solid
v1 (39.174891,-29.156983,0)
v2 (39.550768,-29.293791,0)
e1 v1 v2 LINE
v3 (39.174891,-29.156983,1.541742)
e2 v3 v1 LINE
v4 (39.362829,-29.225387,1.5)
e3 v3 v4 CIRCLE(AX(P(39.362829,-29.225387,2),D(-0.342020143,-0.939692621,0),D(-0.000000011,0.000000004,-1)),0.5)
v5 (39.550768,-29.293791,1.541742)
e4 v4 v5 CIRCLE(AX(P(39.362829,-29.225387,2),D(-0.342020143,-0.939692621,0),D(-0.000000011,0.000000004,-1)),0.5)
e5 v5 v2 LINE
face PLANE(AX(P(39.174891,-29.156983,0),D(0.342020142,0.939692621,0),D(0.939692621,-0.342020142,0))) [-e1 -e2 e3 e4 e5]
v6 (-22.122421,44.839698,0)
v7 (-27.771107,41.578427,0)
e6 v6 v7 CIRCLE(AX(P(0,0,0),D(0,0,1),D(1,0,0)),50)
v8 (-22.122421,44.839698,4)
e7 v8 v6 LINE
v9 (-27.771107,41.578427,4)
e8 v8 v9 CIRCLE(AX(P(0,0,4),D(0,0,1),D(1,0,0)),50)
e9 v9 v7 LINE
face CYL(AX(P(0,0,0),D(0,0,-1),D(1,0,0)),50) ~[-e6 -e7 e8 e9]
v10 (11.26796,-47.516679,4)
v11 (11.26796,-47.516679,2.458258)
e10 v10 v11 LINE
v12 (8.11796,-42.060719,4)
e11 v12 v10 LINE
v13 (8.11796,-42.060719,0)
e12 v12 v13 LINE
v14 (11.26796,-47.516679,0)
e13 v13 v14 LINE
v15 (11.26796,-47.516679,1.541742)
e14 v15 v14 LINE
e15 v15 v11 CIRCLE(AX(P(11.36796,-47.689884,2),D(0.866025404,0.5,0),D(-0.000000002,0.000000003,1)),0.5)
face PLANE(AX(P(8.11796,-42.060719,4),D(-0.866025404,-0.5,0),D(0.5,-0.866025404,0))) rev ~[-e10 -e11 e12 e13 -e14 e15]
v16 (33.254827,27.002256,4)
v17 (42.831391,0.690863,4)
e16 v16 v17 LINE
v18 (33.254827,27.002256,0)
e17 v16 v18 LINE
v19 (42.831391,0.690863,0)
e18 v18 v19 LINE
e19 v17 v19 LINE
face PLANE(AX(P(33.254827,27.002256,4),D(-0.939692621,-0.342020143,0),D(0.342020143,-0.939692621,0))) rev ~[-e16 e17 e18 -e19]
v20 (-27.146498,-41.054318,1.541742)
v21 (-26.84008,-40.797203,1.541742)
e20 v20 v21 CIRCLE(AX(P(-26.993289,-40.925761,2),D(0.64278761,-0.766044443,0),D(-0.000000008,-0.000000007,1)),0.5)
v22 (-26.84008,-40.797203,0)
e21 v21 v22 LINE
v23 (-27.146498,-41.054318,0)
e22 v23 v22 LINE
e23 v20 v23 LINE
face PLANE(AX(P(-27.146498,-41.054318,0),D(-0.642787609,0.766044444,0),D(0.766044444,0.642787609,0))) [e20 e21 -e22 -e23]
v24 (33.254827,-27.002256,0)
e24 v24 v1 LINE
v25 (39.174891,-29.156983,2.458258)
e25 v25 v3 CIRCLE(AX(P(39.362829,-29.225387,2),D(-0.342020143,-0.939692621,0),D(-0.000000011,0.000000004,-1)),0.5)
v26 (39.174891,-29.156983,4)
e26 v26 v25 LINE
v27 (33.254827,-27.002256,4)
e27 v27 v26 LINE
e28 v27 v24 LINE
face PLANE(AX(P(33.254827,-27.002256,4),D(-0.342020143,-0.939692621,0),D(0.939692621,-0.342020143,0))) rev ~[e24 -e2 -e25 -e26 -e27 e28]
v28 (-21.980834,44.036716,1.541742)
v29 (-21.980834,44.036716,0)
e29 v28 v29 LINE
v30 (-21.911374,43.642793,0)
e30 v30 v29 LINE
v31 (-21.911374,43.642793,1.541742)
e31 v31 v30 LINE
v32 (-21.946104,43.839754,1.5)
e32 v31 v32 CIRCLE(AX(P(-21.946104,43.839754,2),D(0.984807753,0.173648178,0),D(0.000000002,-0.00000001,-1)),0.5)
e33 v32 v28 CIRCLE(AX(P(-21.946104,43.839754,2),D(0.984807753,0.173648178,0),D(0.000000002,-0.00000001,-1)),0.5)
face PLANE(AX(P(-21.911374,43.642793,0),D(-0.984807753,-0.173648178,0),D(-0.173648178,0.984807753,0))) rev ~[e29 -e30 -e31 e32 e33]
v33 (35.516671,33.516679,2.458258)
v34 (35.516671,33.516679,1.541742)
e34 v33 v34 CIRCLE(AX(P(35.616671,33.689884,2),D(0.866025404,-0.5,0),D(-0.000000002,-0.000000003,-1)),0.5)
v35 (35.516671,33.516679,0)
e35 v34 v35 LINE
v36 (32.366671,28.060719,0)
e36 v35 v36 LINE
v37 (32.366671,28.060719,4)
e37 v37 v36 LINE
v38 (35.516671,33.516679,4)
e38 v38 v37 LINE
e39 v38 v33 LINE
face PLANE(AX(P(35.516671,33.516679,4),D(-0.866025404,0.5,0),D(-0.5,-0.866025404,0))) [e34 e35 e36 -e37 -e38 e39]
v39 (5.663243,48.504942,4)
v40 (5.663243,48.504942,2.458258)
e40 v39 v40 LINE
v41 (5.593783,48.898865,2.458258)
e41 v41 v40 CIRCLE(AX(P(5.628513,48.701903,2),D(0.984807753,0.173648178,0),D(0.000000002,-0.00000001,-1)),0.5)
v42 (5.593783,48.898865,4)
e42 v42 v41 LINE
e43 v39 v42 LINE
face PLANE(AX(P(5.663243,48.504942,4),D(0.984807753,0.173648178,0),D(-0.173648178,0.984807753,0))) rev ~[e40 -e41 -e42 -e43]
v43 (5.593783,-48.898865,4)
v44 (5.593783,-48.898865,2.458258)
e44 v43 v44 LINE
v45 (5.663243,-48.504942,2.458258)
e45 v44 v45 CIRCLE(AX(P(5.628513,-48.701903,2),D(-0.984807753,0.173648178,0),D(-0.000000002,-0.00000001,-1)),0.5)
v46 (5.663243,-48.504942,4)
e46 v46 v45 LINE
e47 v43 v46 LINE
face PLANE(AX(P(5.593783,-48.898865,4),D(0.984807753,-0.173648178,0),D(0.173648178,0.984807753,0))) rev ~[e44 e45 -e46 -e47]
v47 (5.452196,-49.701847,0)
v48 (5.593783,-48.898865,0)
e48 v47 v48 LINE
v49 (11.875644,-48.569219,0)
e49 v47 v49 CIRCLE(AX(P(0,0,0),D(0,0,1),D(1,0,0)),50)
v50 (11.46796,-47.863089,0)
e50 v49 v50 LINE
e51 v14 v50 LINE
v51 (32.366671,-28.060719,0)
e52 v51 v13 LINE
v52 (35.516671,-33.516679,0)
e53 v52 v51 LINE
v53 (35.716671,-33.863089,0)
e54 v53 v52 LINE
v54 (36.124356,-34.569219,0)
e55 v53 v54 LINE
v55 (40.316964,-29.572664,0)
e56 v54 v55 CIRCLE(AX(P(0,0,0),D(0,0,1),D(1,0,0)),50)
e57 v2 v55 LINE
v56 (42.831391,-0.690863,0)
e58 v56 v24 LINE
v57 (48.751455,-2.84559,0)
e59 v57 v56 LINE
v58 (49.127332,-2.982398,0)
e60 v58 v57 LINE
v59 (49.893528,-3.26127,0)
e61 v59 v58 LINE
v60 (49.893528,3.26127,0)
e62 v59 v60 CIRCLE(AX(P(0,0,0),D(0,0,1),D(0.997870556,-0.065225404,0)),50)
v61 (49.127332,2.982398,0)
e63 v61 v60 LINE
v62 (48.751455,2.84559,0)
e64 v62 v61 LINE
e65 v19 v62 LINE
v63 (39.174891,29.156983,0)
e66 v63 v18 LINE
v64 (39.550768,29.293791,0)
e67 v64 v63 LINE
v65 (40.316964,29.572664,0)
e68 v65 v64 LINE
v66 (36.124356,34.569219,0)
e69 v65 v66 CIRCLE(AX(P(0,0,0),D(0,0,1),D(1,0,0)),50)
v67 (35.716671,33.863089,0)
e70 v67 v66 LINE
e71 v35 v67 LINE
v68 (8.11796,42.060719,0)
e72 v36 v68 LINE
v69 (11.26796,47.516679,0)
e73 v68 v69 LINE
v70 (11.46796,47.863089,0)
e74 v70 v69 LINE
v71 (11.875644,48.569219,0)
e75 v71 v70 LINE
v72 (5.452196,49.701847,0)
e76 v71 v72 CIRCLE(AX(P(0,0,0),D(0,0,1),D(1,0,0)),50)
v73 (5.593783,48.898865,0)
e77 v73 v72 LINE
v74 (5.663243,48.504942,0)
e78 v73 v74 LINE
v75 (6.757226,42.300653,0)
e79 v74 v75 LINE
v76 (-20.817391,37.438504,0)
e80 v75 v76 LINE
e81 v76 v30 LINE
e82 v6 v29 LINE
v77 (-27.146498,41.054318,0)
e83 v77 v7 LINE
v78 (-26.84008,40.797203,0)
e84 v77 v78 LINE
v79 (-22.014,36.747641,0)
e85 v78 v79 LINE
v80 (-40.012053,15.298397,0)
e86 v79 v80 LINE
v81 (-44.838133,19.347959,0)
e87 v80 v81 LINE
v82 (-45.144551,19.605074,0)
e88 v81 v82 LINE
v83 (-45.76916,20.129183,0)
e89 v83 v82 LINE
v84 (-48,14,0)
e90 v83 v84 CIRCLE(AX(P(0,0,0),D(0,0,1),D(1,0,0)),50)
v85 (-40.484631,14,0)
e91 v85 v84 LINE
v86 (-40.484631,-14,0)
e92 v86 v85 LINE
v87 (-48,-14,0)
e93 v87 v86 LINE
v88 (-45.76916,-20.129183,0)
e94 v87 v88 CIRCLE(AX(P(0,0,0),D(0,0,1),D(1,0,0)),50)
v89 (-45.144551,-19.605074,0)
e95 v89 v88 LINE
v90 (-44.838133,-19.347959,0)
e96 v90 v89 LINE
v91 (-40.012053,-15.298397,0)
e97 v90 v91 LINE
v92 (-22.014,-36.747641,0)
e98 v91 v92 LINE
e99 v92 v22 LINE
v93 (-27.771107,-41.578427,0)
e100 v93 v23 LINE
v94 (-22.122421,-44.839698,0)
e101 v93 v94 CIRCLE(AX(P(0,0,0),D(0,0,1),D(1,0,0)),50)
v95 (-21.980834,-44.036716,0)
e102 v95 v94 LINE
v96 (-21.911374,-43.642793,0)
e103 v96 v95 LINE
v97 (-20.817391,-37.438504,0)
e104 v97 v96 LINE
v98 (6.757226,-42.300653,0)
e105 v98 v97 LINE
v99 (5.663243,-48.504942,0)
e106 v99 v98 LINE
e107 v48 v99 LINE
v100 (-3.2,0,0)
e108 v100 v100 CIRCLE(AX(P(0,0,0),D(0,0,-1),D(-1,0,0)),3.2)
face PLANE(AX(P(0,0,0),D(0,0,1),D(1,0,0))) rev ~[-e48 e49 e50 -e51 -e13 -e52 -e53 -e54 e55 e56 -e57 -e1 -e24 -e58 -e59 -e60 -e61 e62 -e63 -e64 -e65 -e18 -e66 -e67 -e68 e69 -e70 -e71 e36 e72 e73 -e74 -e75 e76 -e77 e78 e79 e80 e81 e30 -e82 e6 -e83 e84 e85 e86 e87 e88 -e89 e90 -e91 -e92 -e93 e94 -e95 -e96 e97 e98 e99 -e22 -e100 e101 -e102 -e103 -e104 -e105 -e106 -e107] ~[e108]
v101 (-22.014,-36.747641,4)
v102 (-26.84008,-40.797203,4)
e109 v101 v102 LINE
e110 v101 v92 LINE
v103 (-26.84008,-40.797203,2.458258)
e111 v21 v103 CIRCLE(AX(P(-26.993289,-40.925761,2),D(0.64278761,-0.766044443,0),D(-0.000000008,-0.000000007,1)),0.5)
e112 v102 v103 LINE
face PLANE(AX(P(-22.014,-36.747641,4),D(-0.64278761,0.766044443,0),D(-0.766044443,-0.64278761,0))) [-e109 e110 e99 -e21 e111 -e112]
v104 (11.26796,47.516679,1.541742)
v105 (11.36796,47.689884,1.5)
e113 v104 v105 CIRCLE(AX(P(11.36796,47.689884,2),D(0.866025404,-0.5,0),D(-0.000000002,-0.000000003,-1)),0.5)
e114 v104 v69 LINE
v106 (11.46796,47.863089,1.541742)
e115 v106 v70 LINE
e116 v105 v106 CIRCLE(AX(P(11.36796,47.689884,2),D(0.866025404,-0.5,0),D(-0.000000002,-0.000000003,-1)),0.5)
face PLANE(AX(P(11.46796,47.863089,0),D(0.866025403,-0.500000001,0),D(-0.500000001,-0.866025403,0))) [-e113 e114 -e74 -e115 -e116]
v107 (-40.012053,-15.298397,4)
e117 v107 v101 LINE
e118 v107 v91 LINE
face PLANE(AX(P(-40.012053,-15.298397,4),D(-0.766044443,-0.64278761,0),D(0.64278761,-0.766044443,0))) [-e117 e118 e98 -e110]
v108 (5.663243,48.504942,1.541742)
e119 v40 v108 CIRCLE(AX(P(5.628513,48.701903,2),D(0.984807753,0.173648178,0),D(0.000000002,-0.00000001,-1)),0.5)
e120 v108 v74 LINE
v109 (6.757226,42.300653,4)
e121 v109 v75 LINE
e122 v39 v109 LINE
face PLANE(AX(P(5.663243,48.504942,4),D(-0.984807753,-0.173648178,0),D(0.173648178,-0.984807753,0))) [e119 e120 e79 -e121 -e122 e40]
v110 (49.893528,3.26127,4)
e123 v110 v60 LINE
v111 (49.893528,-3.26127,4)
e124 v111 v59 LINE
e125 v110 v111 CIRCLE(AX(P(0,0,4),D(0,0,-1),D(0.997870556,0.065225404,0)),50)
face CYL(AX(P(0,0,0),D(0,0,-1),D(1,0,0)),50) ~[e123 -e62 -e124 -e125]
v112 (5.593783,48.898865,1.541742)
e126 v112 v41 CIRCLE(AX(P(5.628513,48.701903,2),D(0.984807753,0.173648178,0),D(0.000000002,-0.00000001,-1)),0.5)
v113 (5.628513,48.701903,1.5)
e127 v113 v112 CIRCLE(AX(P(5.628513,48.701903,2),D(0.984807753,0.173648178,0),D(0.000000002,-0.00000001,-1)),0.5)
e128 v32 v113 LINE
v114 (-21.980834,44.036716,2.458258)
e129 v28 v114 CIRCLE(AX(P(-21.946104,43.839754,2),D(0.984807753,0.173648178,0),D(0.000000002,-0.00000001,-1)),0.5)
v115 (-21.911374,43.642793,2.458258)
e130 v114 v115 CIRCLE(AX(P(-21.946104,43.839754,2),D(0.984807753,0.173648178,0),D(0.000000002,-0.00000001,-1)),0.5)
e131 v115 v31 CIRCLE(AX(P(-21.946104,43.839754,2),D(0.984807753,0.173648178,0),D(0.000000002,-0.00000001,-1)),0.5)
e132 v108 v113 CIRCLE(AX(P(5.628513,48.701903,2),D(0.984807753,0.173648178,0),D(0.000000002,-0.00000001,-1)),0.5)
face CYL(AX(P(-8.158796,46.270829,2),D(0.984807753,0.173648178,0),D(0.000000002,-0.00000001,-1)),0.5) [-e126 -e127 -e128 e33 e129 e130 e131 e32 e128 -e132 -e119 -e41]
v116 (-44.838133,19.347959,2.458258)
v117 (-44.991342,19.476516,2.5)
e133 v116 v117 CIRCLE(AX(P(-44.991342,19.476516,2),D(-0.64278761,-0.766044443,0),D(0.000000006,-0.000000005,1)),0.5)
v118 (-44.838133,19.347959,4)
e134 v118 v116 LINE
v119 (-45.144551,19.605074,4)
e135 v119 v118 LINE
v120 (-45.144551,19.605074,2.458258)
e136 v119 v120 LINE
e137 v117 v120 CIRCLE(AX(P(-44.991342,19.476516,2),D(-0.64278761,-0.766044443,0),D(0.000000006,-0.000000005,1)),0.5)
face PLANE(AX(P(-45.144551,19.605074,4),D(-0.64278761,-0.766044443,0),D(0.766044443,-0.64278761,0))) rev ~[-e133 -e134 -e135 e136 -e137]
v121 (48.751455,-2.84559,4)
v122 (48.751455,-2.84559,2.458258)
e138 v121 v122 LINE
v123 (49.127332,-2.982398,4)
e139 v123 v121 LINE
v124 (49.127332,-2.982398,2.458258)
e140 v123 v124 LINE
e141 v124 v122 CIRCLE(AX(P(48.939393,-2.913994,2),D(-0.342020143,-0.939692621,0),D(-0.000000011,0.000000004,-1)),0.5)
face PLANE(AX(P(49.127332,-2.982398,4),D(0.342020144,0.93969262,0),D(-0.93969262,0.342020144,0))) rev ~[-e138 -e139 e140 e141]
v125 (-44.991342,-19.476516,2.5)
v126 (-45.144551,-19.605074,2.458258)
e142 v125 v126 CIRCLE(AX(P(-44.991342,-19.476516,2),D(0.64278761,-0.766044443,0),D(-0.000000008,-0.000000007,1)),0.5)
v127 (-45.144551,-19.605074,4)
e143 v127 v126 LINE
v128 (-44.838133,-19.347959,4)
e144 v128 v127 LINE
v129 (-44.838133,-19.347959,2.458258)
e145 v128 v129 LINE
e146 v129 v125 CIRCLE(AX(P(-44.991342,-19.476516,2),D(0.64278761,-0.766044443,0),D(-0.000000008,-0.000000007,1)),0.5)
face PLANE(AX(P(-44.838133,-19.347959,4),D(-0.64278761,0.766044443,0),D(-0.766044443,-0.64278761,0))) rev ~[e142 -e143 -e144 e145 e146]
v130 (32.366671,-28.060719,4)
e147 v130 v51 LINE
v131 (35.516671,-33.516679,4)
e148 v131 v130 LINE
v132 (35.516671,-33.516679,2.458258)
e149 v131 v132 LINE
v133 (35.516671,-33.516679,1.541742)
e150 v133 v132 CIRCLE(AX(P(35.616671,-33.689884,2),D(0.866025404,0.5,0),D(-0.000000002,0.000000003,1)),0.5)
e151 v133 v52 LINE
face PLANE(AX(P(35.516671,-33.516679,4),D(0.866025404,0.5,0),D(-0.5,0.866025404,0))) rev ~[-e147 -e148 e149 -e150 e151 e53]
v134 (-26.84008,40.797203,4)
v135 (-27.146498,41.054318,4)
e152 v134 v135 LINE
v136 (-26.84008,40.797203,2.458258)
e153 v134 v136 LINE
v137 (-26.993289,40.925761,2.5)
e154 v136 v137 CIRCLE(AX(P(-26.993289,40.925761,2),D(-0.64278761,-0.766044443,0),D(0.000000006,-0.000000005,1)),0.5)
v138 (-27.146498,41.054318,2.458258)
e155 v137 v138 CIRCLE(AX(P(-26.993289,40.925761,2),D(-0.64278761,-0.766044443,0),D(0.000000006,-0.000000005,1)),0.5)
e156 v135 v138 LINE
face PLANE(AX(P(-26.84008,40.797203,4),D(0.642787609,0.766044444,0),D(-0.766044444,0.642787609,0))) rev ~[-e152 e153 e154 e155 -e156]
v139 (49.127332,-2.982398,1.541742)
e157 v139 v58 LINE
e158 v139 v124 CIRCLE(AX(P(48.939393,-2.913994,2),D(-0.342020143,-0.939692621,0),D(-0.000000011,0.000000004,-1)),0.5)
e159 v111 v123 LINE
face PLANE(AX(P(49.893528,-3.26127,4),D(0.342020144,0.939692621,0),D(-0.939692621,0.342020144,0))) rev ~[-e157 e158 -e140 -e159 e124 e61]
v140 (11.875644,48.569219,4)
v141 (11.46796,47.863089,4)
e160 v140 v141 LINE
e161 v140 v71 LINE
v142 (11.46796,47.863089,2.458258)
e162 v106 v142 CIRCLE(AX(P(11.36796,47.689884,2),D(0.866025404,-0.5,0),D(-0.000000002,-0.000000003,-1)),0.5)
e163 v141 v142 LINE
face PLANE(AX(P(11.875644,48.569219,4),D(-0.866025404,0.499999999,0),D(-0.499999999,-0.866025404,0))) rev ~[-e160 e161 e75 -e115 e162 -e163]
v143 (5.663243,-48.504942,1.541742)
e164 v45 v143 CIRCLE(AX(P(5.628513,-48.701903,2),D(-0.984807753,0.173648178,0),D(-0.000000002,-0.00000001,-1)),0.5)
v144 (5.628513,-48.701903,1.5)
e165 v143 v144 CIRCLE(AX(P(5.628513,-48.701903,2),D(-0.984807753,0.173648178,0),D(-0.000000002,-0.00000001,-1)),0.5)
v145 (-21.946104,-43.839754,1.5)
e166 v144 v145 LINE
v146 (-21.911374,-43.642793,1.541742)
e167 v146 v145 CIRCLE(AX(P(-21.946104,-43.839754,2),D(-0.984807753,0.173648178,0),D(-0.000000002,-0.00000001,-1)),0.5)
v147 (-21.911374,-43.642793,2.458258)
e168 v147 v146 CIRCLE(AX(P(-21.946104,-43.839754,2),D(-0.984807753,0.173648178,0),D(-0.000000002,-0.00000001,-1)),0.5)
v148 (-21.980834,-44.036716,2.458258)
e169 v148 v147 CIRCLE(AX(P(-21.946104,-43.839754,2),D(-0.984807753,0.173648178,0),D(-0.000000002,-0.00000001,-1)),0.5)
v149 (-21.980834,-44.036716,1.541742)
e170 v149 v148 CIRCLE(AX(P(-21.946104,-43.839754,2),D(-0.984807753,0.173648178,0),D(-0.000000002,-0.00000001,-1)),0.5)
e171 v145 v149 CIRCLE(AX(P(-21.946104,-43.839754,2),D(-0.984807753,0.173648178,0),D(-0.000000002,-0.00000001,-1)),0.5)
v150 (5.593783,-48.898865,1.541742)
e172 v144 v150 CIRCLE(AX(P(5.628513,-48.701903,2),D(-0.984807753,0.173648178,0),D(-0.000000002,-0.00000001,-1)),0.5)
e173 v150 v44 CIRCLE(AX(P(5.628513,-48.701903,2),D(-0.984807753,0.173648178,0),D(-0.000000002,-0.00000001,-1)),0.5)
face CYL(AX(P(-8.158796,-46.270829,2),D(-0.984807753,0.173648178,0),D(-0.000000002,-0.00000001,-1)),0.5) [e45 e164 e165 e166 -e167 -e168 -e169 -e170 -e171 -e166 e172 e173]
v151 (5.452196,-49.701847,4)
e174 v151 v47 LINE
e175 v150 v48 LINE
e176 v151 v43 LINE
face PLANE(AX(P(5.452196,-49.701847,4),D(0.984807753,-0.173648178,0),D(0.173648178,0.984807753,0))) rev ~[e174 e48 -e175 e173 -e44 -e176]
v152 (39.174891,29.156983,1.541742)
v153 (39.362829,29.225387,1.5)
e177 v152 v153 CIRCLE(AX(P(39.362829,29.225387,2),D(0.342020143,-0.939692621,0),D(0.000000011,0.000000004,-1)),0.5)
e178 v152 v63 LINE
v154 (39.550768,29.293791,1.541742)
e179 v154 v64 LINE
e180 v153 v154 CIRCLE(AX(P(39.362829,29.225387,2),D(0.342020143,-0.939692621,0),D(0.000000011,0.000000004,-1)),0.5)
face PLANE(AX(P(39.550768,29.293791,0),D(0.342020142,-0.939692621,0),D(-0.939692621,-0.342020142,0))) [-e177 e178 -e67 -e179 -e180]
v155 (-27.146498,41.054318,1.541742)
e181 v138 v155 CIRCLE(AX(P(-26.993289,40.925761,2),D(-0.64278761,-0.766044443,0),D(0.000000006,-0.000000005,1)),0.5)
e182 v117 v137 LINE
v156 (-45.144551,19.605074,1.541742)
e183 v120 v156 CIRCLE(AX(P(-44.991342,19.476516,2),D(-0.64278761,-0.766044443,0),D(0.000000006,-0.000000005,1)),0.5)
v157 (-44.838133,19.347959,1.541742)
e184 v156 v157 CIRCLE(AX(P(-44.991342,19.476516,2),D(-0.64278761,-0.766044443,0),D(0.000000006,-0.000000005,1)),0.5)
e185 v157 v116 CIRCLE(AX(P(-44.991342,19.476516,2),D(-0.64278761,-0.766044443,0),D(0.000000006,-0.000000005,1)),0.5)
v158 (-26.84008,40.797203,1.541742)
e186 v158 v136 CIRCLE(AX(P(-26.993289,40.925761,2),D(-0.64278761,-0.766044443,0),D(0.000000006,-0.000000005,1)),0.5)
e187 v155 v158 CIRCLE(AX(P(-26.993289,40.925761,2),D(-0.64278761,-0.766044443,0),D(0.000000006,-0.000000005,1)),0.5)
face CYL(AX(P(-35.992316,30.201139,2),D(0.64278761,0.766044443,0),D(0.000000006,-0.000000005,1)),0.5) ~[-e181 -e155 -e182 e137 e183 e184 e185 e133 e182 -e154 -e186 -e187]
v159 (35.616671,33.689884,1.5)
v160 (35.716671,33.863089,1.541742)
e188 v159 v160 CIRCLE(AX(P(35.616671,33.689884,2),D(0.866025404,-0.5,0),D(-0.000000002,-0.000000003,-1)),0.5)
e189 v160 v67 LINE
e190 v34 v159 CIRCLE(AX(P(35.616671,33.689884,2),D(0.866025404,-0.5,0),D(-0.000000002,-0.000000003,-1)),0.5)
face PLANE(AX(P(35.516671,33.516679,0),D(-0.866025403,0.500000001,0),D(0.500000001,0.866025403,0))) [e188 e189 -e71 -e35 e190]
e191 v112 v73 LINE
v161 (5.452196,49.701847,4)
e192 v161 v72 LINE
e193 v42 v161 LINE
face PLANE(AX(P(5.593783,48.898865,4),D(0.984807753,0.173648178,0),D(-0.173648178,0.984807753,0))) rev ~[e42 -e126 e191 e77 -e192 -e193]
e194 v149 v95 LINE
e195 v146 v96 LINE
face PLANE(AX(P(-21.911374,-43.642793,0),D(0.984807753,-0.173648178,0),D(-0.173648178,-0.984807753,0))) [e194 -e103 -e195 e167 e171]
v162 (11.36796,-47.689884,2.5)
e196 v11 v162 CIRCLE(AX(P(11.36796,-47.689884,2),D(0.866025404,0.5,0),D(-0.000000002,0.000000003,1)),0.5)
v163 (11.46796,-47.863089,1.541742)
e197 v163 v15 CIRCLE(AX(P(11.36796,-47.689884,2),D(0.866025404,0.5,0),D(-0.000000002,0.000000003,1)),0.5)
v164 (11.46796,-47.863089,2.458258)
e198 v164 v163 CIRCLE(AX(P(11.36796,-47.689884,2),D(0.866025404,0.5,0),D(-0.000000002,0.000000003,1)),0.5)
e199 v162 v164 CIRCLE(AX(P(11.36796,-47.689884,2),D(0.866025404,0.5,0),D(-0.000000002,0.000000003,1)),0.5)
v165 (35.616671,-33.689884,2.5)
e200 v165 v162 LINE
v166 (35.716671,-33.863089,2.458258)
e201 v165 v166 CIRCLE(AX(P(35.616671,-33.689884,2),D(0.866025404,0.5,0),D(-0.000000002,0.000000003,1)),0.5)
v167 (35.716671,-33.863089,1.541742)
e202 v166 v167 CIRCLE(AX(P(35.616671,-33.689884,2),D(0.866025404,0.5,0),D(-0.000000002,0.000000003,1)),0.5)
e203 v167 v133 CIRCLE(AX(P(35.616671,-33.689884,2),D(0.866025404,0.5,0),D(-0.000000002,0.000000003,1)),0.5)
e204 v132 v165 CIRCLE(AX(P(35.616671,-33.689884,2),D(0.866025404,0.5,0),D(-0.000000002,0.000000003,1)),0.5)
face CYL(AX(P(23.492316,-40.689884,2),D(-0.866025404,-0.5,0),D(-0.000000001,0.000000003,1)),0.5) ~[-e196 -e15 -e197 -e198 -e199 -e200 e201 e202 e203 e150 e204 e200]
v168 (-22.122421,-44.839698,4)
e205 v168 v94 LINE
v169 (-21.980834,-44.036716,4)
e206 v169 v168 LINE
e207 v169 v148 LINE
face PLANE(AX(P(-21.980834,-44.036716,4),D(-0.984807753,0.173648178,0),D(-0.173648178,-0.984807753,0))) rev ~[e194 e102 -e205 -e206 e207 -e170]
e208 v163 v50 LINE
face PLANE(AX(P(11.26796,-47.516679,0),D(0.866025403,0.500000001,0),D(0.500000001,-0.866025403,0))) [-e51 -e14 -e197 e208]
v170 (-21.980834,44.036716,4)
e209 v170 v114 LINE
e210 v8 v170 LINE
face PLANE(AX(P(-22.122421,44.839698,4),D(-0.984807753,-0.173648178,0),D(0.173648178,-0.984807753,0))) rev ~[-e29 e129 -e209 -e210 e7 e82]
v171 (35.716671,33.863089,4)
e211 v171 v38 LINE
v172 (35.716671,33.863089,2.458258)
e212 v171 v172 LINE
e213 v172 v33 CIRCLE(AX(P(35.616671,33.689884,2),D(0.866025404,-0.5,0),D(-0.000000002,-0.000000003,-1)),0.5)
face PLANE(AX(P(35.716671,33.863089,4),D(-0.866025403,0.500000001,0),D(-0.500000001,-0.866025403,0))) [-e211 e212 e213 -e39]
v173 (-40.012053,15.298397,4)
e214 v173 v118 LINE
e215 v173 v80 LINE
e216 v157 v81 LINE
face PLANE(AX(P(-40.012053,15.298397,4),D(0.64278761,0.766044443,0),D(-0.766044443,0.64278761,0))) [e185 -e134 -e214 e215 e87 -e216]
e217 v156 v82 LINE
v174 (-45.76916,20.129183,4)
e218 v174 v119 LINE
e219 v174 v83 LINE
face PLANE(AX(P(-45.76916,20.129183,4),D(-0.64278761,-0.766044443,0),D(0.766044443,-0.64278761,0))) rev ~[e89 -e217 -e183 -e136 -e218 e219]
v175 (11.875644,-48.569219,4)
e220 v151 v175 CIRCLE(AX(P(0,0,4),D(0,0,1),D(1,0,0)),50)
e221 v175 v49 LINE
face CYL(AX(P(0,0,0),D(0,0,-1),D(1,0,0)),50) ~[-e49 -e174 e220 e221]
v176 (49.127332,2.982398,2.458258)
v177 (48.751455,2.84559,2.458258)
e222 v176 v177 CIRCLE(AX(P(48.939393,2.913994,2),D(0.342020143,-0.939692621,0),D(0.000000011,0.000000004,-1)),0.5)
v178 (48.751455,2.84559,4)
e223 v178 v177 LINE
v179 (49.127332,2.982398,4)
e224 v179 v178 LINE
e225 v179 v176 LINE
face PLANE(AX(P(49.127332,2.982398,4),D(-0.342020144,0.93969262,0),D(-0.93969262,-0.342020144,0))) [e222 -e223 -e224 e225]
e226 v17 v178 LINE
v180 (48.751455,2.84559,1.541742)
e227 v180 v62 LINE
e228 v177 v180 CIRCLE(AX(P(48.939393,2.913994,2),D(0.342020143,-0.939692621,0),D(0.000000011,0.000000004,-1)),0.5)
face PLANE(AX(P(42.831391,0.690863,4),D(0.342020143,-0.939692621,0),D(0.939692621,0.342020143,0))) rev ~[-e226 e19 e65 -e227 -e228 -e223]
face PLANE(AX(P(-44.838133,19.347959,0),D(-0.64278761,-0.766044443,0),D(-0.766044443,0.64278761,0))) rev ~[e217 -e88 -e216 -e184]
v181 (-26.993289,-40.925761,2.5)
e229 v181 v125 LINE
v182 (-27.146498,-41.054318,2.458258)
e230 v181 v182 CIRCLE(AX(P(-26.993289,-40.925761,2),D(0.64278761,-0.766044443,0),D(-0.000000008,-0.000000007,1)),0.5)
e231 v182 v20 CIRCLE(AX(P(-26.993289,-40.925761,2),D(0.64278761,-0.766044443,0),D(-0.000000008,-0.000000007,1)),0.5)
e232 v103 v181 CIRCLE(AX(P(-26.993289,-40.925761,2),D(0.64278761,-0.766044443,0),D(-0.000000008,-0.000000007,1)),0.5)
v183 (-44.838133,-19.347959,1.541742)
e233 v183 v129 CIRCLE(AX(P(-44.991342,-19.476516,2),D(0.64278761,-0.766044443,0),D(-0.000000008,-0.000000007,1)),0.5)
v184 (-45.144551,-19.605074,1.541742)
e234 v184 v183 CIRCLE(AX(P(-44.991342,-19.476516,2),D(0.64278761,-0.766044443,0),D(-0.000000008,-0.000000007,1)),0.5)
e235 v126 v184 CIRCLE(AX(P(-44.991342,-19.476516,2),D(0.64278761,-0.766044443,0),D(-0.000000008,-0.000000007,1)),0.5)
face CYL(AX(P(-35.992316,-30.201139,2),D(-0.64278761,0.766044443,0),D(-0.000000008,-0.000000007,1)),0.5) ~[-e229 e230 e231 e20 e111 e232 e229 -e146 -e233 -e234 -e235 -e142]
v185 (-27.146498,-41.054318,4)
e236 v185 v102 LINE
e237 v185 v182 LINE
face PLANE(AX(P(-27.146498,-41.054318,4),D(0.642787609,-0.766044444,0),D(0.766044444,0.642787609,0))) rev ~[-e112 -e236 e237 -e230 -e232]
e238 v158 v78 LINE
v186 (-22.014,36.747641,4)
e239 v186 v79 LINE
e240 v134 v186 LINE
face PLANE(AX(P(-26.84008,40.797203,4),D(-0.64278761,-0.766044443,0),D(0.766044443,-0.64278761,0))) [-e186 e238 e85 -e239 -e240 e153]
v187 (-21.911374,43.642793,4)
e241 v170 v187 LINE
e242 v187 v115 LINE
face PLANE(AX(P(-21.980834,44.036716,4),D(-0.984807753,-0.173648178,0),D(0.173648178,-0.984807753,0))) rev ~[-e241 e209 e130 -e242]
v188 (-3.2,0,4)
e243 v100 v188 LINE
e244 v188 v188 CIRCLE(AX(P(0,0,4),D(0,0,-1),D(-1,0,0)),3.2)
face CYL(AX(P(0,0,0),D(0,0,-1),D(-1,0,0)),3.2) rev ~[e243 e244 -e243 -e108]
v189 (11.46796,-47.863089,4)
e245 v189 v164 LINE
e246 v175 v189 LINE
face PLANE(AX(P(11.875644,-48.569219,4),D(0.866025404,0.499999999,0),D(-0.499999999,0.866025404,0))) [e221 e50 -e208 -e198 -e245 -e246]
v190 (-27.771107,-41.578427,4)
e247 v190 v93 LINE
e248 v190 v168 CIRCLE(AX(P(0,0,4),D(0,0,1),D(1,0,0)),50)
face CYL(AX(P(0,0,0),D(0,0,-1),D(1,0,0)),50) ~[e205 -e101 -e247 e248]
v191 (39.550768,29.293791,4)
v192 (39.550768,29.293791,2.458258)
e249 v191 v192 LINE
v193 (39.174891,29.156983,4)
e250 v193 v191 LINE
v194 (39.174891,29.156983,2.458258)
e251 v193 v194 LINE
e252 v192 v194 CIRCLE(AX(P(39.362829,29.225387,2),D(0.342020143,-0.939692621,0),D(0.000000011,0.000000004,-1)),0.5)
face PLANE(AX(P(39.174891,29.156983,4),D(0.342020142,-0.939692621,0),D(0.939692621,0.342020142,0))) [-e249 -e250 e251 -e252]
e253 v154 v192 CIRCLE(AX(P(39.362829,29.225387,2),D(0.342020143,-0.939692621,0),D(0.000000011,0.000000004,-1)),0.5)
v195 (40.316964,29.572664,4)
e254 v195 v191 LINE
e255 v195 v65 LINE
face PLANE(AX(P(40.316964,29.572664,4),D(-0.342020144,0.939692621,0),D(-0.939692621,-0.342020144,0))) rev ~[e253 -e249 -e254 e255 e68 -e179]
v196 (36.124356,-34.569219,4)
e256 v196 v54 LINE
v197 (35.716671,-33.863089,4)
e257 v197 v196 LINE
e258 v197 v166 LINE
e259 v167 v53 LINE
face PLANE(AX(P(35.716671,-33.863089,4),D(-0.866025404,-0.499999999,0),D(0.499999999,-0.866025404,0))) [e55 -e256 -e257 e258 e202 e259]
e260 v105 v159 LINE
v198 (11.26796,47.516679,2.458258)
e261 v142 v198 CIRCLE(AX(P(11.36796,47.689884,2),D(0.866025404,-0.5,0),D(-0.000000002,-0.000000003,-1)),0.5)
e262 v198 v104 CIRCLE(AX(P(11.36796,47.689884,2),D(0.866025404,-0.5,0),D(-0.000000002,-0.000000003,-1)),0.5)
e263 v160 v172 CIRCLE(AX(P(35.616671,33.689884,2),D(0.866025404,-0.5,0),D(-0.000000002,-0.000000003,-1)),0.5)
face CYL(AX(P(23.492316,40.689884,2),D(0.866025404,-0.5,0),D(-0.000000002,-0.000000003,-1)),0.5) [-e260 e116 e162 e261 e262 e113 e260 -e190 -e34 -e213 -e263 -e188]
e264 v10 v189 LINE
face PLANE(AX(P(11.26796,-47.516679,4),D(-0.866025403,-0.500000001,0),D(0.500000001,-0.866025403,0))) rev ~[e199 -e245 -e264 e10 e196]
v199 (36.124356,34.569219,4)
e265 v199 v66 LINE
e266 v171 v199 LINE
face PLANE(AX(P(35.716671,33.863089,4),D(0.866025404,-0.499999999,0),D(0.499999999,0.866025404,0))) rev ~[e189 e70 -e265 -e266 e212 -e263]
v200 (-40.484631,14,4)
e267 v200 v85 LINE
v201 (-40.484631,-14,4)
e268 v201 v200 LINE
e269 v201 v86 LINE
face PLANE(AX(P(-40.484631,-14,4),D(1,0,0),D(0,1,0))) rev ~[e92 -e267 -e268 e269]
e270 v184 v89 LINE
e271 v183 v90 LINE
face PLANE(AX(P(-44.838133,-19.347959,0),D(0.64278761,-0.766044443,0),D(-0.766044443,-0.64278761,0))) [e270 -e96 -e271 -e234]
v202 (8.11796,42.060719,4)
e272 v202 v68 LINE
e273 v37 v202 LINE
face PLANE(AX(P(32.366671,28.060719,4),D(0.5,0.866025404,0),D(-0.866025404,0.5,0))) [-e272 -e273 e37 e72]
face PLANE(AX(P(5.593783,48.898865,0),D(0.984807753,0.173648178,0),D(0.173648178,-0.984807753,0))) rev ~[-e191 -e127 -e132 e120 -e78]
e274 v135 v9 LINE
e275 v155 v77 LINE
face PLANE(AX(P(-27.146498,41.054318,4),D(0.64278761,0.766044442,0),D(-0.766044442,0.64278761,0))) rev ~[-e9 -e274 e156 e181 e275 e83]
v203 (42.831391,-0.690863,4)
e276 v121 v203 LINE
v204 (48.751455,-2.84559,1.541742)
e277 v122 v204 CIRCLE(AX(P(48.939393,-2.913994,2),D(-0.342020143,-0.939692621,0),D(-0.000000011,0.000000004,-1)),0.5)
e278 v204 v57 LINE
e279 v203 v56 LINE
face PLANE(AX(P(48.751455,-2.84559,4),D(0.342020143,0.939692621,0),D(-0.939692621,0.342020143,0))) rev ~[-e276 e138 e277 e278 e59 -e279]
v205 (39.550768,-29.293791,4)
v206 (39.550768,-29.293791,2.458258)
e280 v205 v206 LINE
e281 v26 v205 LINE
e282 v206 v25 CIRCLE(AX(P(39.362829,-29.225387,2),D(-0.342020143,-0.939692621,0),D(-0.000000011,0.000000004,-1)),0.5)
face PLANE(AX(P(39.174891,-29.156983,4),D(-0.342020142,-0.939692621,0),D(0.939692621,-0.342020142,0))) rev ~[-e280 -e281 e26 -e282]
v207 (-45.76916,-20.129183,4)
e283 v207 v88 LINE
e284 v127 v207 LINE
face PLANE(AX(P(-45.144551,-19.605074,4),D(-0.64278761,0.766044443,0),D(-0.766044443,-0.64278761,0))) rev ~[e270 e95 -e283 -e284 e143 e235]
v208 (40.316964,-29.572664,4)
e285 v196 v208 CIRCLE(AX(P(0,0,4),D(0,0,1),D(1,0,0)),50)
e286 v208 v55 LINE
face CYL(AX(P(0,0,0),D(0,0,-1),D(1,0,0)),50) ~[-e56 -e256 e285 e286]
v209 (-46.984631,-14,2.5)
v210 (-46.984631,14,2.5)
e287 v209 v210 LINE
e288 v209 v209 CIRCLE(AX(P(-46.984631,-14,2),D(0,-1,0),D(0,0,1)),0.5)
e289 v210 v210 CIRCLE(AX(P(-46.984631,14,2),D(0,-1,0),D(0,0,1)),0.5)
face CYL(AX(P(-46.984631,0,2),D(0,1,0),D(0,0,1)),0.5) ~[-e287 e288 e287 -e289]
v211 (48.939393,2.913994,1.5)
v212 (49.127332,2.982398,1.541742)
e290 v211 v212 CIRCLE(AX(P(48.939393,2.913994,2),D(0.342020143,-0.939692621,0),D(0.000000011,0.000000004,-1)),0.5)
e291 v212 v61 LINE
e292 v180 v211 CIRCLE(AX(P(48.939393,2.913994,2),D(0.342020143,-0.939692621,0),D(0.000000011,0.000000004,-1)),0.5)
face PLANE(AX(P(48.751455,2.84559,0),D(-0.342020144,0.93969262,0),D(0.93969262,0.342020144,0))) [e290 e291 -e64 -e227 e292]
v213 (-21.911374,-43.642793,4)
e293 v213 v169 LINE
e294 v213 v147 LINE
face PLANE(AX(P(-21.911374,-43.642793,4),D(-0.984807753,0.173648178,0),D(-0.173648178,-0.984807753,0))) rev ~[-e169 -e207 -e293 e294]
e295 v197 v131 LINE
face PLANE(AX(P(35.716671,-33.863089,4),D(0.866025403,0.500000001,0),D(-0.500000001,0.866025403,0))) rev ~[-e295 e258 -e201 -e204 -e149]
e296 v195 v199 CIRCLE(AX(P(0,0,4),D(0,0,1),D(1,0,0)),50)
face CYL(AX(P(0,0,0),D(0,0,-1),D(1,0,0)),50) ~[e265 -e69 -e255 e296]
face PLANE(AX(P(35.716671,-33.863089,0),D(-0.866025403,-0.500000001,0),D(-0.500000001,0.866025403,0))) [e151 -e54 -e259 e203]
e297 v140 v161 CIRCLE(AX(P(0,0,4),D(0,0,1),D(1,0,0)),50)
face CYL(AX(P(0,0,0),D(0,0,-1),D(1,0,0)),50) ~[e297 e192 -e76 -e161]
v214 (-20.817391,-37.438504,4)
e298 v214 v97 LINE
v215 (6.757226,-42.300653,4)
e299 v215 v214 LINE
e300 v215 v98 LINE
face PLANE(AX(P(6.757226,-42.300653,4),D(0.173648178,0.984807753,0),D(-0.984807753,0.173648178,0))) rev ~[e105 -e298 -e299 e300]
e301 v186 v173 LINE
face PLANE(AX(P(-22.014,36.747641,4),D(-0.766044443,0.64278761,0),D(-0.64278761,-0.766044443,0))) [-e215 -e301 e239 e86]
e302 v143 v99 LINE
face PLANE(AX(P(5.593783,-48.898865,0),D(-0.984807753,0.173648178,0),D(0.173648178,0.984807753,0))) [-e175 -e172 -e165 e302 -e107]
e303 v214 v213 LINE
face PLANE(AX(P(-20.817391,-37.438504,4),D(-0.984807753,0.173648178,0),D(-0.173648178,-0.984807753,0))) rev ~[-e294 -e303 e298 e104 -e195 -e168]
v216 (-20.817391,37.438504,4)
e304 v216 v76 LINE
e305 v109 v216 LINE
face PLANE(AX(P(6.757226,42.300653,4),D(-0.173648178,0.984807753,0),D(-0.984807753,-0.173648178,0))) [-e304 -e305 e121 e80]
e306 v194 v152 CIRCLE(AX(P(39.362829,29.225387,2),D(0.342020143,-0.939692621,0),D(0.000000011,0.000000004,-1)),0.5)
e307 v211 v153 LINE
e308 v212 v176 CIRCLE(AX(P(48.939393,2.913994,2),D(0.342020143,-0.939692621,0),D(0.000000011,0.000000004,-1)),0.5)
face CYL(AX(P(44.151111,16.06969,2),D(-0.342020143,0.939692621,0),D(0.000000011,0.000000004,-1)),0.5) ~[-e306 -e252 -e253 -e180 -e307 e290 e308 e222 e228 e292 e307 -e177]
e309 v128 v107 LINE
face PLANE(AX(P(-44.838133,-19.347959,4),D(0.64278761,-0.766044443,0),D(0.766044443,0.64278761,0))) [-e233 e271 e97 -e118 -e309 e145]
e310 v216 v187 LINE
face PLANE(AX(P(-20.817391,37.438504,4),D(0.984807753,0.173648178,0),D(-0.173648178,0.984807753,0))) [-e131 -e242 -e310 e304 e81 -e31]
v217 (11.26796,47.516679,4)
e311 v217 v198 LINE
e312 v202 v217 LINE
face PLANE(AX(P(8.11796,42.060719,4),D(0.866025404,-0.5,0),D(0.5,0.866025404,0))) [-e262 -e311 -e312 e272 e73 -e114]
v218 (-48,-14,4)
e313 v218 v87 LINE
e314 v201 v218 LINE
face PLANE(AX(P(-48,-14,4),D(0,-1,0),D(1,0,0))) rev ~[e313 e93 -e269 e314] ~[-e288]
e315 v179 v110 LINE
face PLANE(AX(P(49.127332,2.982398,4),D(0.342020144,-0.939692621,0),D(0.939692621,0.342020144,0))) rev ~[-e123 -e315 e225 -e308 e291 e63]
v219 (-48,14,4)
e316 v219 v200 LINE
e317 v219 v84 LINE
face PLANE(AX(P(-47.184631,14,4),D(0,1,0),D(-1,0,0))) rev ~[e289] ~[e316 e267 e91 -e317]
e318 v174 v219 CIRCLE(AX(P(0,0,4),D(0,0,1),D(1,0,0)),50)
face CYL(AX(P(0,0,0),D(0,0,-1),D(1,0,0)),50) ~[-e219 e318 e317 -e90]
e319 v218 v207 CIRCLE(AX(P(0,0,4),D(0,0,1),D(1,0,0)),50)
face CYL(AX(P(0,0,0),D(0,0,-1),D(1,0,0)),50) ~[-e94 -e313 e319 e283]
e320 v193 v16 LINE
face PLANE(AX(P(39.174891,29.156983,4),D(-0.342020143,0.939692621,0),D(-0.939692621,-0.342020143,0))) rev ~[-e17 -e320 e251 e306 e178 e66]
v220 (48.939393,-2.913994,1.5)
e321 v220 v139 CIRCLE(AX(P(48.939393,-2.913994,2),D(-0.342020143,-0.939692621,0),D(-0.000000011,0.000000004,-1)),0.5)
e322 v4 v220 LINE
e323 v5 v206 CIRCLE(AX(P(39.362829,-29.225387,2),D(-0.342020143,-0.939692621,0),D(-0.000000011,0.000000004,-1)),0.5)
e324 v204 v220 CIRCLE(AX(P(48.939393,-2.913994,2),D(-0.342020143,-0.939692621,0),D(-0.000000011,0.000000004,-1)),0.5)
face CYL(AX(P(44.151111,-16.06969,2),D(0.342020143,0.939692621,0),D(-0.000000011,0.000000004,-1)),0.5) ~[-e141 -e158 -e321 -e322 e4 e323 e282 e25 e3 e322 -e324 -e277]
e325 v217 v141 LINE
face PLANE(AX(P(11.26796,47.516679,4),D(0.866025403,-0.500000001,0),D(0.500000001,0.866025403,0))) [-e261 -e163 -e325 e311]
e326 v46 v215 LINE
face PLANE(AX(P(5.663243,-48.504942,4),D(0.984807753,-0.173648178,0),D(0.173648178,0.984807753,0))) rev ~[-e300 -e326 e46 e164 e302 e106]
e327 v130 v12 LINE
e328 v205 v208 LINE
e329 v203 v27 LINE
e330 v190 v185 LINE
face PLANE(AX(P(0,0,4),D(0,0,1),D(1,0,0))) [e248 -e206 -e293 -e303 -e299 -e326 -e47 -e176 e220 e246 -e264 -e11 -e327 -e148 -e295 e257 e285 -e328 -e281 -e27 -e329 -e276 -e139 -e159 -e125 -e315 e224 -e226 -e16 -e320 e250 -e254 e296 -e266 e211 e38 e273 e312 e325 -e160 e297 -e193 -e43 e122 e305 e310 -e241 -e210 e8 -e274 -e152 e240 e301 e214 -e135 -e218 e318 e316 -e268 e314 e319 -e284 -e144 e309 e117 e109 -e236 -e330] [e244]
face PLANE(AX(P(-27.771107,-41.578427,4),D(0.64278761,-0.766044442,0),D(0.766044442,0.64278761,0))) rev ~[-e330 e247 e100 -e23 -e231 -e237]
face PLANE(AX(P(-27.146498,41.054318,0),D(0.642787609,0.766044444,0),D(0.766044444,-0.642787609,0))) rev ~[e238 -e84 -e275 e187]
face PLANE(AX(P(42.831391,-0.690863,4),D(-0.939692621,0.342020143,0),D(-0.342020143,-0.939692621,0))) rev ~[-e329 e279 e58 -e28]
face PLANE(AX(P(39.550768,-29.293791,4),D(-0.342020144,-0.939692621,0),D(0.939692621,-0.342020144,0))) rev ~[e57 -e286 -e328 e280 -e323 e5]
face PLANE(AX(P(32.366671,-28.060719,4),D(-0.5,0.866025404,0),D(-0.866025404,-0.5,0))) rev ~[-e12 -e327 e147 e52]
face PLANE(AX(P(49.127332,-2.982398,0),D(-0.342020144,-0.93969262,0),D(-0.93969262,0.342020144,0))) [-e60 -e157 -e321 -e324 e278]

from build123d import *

# Parameters (mm, degrees)
SKETCH1_R           = 50
BOSS_EXTRUDE1_DEPTH = 4
SKETCH2_W           = 6.3
SKETCH2_H           = 28
CUT_EXTRUDE1_DEPTH  = 4
SKETCH5_W           = 0.4
SKETCH5_H           = 28
CUT_EXTRUDE2_DEPTH  = 1.8
SKETCH7_W           = 0.4
SKETCH7_H           = 28
CUT_EXTRUDE3_DEPTH  = 1.8
SKETCH8_W           = 0.5
SKETCH8_H           = 28
SKETCH9_W           = 0.5
SKETCH9_H           = 28
SKETCH10_W          = 28
SKETCH10_H          = 0.5
SKETCH11_W          = 28
SKETCH11_H          = 0.5
SKETCH12_W          = 0.5
SKETCH12_H          = 28
SKETCH13_W          = 0.5
SKETCH13_H          = 28
SKETCH14_W          = 28
SKETCH14_H          = 0.5
SKETCH15_W          = 0.5
SKETCH15_H          = 28
SKETCH16_W          = 28
SKETCH16_H          = 0.5
SKETCH17_R          = 3.2
CUT_EXTRUDE4_DEPTH  = 10


with BuildPart() as part:
    # Sketch1 → Boss-Extrude1 (new body)
    with BuildSketch(Plane.XY):
        Circle(SKETCH1_R)
    extrude(amount=BOSS_EXTRUDE1_DEPTH)

    # Sketch2 → Cut-Extrude1 (cut)
    with BuildSketch(Plane.XY.offset(4)):
        Polygon((5.663242619, 48.504941857), (6.757226139, 42.300653013), (-20.817390946, 37.438504038), (-21.911374465, 43.642792882), align=None)
        with BuildLine():
            Line((5.593783348, 48.898864958), (5.452196014, 49.701846632))
            ThreePointArc((5.452196014, 49.701846632), (-8.682408883, 49.240387651), (-22.12242107, 44.839697657))
            Line((-22.12242107, 44.839697657), (-21.980833736, 44.036715983))
            Line((-21.980833736, 44.036715983), (5.593783348, 48.898864958))
        make_face()
        Polygon((35.516671173, 33.516678987), (32.366671173, 28.060718943), (8.117959867, 42.060718943), (11.267959867, 47.516678987), align=None)
        Polygon((33.254827036, 27.002256002), (42.831391049, 0.69086262), (48.75145456, 2.845589522), (39.174890547, 29.156982905), align=None)
        with BuildLine():
            Line((40.316963791, 29.572663571), (39.550767596, 29.293790962))
            Line((39.550767596, 29.293790962), (49.127331609, 2.98239758))
            Line((49.127331609, 2.98239758), (49.893527804, 3.261270189))
            ThreePointArc((49.893527804, 3.261270189), (46.984631039, 17.101007166), (40.316963791, 29.572663571))
        make_face()
        with BuildLine():
            ThreePointArc((40.316963791, -29.572663571), (46.984631039, -17.101007166), (49.893527804, -3.261270189))
            Line((49.893527804, -3.261270189), (49.127331609, -2.98239758))
            Line((49.127331609, -2.98239758), (39.550767596, -29.293790962))
            Line((39.550767596, -29.293790962), (40.316963791, -29.572663571))
        make_face()
        Polygon((32.366671173, -28.060718943), (8.117959867, -42.060718943), (11.267959867, -47.516678987), (35.516671173, -33.516678987), align=None)
        with BuildLine():
            ThreePointArc((-22.12242107, -44.839697657), (-8.682408883, -49.240387651), (5.452196014, -49.701846632))
            Line((5.452196014, -49.701846632), (5.593783348, -48.898864958))
            Line((5.593783348, -48.898864958), (-21.980833736, -44.036715983))
            Line((-21.980833736, -44.036715983), (-22.12242107, -44.839697657))
        make_face()
        Polygon((6.757226139, -42.300653013), (-20.817390946, -37.438504038), (-21.911374465, -43.642792882), (5.663242619, -48.504941857), align=None)
        with BuildLine():
            Line((-45.144550944, -19.605073996), (-45.769159805, -20.129183061))
            ThreePointArc((-45.769159805, -20.129183061), (-38.302222156, -32.139380484), (-27.771106734, -41.578427469))
            Line((-27.771106734, -41.578427469), (-27.146497873, -41.054318403))
            Line((-27.146497873, -41.054318403), (-45.144550944, -19.605073996))
        make_face()
        Polygon((-44.838133167, -19.347958952), (-40.012053175, -15.298397011), (-22.014000104, -36.747641418), (-26.840080095, -40.797203359), align=None)
        with BuildLine():
            Line((-47.184631039, 14), (-48, 14))
            ThreePointArc((-48, 14), (-50, 0), (-48, -14))
            Line((-48, -14), (-47.184631039, -14))
            Line((-47.184631039, -14), (-47.184631039, 14))
        make_face()
        with Locations((-43.634631039, 0)):
            Rectangle(SKETCH2_W, SKETCH2_H)
        Polygon((-26.840080095, 40.797203359), (-22.014000104, 36.747641418), (-40.012053175, 15.298397011), (-44.838133167, 19.347958952), align=None)
        with BuildLine():
            Line((-27.146497873, 41.054318403), (-27.771106734, 41.578427469))
            ThreePointArc((-27.771106734, 41.578427469), (-38.302222156, 32.139380484), (-45.769159805, 20.129183061))
            Line((-45.769159805, 20.129183061), (-45.144550944, 19.605073996))
            Line((-45.144550944, 19.605073996), (-27.146497873, 41.054318403))
        make_face()
        with BuildLine():
            ThreePointArc((36.124355653, 34.569219382), (25, 43.301270189), (11.875644347, 48.569219382))
            Line((11.875644347, 48.569219382), (11.467959867, 47.863089148))
            Line((11.467959867, 47.863089148), (35.716671173, 33.863089148))
            Line((35.716671173, 33.863089148), (36.124355653, 34.569219382))
        make_face()
        Polygon((42.831391049, -0.69086262), (33.254827036, -27.002256002), (39.174890547, -29.156982905), (48.75145456, -2.845589522), align=None)
        with BuildLine():
            Line((11.467959867, -47.863089148), (35.716671173, -33.863089148))
            Line((35.716671173, -33.863089148), (36.124355653, -34.569219382))
            ThreePointArc((36.124355653, -34.569219382), (25, -43.301270189), (11.875644347, -48.569219382))
            Line((11.875644347, -48.569219382), (11.467959867, -47.863089148))
        make_face()
    extrude(amount=-CUT_EXTRUDE1_DEPTH, mode=Mode.SUBTRACT)

    # Sketch5 → Cut-Extrude2 (cut)
    with BuildSketch(Plane.XY.offset(4)):
        Polygon((39.174890547, 29.156982905), (39.550767596, 29.293790962), (49.127331609, 2.98239758), (48.75145456, 2.845589522), align=None)
        Polygon((39.174890547, -29.156982905), (39.550767596, -29.293790962), (49.127331609, -2.98239758), (48.75145456, -2.845589522), align=None)
        Polygon((11.267959867, -47.516678987), (11.467959867, -47.863089148), (35.716671173, -33.863089148), (35.516671173, -33.516678987), align=None)
        Polygon((-21.911374465, -43.642792882), (-21.980833736, -44.036715983), (5.593783348, -48.898864958), (5.663242619, -48.504941857), align=None)
        Polygon((-27.146497873, -41.054318403), (-26.840080095, -40.797203359), (-44.838133167, -19.347958952), (-45.144550944, -19.605073996), align=None)
        with Locations((-46.984631039, 0)):
            Rectangle(SKETCH5_W, SKETCH5_H)
        Polygon((-45.144550944, 19.605073996), (-44.838133167, 19.347958952), (-26.840080095, 40.797203359), (-27.146497873, 41.054318403), align=None)
        Polygon((-21.980833736, 44.036715983), (-21.911374465, 43.642792882), (5.663242619, 48.504941857), (5.593783348, 48.898864958), align=None)
        Polygon((11.267959867, 47.516678987), (11.467959867, 47.863089148), (35.716671173, 33.863089148), (35.516671173, 33.516678987), align=None)
    extrude(amount=-CUT_EXTRUDE2_DEPTH, mode=Mode.SUBTRACT)

    # Sketch7 → Cut-Extrude3 (cut)
    with BuildSketch(Plane(origin=(0, 0, 0), x_dir=(-1, 0, 0), z_dir=(0, 0, -1))):
        with Locations((46.984631039, 0)):
            Rectangle(SKETCH7_W, SKETCH7_H)
        Polygon((44.838133167, -19.347958952), (45.144550944, -19.605073996), (27.146497873, -41.054318403), (26.840080095, -40.797203359), align=None)
        Polygon((21.911374465, -43.642792882), (21.980833736, -44.036715983), (-5.593783348, -48.898864958), (-5.663242619, -48.504941857), align=None)
        Polygon((-11.267959867, -47.516678987), (-11.467959867, -47.863089148), (-35.716671173, -33.863089148), (-35.516671173, -33.516678987), align=None)
        Polygon((-39.174890547, -29.156982905), (-39.550767596, -29.293790962), (-49.127331609, -2.98239758), (-48.75145456, -2.845589522), align=None)
        Polygon((-48.75145456, 2.845589522), (-49.127331609, 2.98239758), (-39.550767596, 29.293790962), (-39.174890547, 29.156982905), align=None)
        Polygon((-35.716671173, 33.863089148), (-11.467959867, 47.863089148), (-11.267959867, 47.516678987), (-35.516671173, 33.516678987), align=None)
        Polygon((-5.593783348, 48.898864958), (-5.663242619, 48.504941857), (21.911374465, 43.642792882), (21.980833736, 44.036715983), align=None)
        Polygon((27.146497873, 41.054318403), (26.840080095, 40.797203359), (44.838133167, 19.347958952), (45.144550944, 19.605073996), align=None)
    extrude(amount=-CUT_EXTRUDE3_DEPTH, mode=Mode.SUBTRACT)

    # Sketch8 → Revolve1 (revolve)
    with BuildSketch(Plane.ZY.offset(46.984631039)):
        with Locations((2.25, 0)):
            Rectangle(SKETCH8_W, SKETCH8_H)
    revolve(axis=Axis((-46.984631039, 14, 2), (0, -1, 0)))

    # Sketch9 → Revolve2 (revolve)
    with BuildSketch(Plane(origin=(-35.99231552, 30.201138678, 0), x_dir=(0, 0, 1), z_dir=(-0.766044443, 0.64278761, 0))):
        with Locations((2.25, 0)):
            Rectangle(SKETCH9_W, SKETCH9_H)
    revolve(axis=Axis((-26.993288984, 40.925760881, 2), (-0.64278761, -0.766044443, 0)))

    # Sketch10 → Revolve3 (revolve)
    with BuildSketch(Plane(origin=(-8.158795558, 46.27082892, 0), x_dir=(0.984807753, 0.173648178, 0), z_dir=(-0.173648178, 0.984807753, 0))):
        with Locations((0, -1.75)):
            Rectangle(SKETCH10_W, SKETCH10_H)
    revolve(axis=Axis((-21.9461041, 43.839754433, 2), (0.984807753, 0.173648178, 0)))

    # Sketch11 → Revolve4 (revolve)
    with BuildSketch(Plane(origin=(23.49231552, 40.689884067, 0), x_dir=(0.866025404, -0.5, 0), z_dir=(0.5, 0.866025404, 0))):
        with Locations((0, -1.75)):
            Rectangle(SKETCH11_W, SKETCH11_H)
    revolve(axis=Axis((11.367959867, 47.689884067, 2), (0.866025404, -0.5, 0)))

    # Sketch12 → Revolve5 (revolve)
    with BuildSketch(Plane(origin=(44.151111078, 16.069690242, 0), x_dir=(0, 0, -1), z_dir=(0.939692621, 0.342020143, 0))):
        with Locations((-1.75, 0)):
            Rectangle(SKETCH12_W, SKETCH12_H)
    revolve(axis=Axis((39.362829071, 29.225386933, 2), (0.342020143, -0.939692621, 0)))

    # Sketch13 → Revolve6 (revolve)
    with BuildSketch(Plane(origin=(44.151111078, -16.069690242, 0), x_dir=(0, 0, -1), z_dir=(0.939692621, -0.342020143, 0))):
        with Locations((-1.75, 0)):
            Rectangle(SKETCH13_W, SKETCH13_H)
    revolve(axis=Axis((48.939393085, -2.913993551, 2), (-0.342020143, -0.939692621, 0)))

    # Sketch14 → Revolve7 (revolve)
    with BuildSketch(Plane(origin=(23.49231552, -40.689884067, 0), x_dir=(-0.866025404, -0.5, 0), z_dir=(0.5, -0.866025404, 0))):
        with Locations((0, -2.25)):
            Rectangle(SKETCH14_W, SKETCH14_H)
    revolve(axis=Axis((11.367959867, -47.689884067, 2), (0.866025404, 0.5, 0)))

    # Sketch15 → Revolve8 (revolve)
    with BuildSketch(Plane(origin=(-35.99231552, -30.201138678, 0), x_dir=(0, 0, 1), z_dir=(-0.766044443, -0.64278761, 0))):
        with Locations((2.25, 0)):
            Rectangle(SKETCH15_W, SKETCH15_H)
    revolve(axis=Axis((-44.991342055, -19.476516474, 2), (0.64278761, -0.766044443, 0)))

    # Sketch16 → Revolve9 (revolve)
    with BuildSketch(Plane(origin=(-8.158795558, -46.27082892, 0), x_dir=(-0.984807753, 0.173648178, 0), z_dir=(-0.173648178, -0.984807753, 0))):
        with Locations((0, -1.75)):
            Rectangle(SKETCH16_W, SKETCH16_H)
    revolve(axis=Axis((5.628512984, -48.701903407, 2), (-0.984807753, 0.173648178, 0)))

    # Sketch17 → Cut-Extrude4 (cut)
    with BuildSketch(Plane(origin=(0, 0, 0), x_dir=(-1, 0, 0), z_dir=(0, 0, -1))):
        Circle(SKETCH17_R)
    extrude(amount=-CUT_EXTRUDE4_DEPTH, mode=Mode.SUBTRACT)


solid = part.part
